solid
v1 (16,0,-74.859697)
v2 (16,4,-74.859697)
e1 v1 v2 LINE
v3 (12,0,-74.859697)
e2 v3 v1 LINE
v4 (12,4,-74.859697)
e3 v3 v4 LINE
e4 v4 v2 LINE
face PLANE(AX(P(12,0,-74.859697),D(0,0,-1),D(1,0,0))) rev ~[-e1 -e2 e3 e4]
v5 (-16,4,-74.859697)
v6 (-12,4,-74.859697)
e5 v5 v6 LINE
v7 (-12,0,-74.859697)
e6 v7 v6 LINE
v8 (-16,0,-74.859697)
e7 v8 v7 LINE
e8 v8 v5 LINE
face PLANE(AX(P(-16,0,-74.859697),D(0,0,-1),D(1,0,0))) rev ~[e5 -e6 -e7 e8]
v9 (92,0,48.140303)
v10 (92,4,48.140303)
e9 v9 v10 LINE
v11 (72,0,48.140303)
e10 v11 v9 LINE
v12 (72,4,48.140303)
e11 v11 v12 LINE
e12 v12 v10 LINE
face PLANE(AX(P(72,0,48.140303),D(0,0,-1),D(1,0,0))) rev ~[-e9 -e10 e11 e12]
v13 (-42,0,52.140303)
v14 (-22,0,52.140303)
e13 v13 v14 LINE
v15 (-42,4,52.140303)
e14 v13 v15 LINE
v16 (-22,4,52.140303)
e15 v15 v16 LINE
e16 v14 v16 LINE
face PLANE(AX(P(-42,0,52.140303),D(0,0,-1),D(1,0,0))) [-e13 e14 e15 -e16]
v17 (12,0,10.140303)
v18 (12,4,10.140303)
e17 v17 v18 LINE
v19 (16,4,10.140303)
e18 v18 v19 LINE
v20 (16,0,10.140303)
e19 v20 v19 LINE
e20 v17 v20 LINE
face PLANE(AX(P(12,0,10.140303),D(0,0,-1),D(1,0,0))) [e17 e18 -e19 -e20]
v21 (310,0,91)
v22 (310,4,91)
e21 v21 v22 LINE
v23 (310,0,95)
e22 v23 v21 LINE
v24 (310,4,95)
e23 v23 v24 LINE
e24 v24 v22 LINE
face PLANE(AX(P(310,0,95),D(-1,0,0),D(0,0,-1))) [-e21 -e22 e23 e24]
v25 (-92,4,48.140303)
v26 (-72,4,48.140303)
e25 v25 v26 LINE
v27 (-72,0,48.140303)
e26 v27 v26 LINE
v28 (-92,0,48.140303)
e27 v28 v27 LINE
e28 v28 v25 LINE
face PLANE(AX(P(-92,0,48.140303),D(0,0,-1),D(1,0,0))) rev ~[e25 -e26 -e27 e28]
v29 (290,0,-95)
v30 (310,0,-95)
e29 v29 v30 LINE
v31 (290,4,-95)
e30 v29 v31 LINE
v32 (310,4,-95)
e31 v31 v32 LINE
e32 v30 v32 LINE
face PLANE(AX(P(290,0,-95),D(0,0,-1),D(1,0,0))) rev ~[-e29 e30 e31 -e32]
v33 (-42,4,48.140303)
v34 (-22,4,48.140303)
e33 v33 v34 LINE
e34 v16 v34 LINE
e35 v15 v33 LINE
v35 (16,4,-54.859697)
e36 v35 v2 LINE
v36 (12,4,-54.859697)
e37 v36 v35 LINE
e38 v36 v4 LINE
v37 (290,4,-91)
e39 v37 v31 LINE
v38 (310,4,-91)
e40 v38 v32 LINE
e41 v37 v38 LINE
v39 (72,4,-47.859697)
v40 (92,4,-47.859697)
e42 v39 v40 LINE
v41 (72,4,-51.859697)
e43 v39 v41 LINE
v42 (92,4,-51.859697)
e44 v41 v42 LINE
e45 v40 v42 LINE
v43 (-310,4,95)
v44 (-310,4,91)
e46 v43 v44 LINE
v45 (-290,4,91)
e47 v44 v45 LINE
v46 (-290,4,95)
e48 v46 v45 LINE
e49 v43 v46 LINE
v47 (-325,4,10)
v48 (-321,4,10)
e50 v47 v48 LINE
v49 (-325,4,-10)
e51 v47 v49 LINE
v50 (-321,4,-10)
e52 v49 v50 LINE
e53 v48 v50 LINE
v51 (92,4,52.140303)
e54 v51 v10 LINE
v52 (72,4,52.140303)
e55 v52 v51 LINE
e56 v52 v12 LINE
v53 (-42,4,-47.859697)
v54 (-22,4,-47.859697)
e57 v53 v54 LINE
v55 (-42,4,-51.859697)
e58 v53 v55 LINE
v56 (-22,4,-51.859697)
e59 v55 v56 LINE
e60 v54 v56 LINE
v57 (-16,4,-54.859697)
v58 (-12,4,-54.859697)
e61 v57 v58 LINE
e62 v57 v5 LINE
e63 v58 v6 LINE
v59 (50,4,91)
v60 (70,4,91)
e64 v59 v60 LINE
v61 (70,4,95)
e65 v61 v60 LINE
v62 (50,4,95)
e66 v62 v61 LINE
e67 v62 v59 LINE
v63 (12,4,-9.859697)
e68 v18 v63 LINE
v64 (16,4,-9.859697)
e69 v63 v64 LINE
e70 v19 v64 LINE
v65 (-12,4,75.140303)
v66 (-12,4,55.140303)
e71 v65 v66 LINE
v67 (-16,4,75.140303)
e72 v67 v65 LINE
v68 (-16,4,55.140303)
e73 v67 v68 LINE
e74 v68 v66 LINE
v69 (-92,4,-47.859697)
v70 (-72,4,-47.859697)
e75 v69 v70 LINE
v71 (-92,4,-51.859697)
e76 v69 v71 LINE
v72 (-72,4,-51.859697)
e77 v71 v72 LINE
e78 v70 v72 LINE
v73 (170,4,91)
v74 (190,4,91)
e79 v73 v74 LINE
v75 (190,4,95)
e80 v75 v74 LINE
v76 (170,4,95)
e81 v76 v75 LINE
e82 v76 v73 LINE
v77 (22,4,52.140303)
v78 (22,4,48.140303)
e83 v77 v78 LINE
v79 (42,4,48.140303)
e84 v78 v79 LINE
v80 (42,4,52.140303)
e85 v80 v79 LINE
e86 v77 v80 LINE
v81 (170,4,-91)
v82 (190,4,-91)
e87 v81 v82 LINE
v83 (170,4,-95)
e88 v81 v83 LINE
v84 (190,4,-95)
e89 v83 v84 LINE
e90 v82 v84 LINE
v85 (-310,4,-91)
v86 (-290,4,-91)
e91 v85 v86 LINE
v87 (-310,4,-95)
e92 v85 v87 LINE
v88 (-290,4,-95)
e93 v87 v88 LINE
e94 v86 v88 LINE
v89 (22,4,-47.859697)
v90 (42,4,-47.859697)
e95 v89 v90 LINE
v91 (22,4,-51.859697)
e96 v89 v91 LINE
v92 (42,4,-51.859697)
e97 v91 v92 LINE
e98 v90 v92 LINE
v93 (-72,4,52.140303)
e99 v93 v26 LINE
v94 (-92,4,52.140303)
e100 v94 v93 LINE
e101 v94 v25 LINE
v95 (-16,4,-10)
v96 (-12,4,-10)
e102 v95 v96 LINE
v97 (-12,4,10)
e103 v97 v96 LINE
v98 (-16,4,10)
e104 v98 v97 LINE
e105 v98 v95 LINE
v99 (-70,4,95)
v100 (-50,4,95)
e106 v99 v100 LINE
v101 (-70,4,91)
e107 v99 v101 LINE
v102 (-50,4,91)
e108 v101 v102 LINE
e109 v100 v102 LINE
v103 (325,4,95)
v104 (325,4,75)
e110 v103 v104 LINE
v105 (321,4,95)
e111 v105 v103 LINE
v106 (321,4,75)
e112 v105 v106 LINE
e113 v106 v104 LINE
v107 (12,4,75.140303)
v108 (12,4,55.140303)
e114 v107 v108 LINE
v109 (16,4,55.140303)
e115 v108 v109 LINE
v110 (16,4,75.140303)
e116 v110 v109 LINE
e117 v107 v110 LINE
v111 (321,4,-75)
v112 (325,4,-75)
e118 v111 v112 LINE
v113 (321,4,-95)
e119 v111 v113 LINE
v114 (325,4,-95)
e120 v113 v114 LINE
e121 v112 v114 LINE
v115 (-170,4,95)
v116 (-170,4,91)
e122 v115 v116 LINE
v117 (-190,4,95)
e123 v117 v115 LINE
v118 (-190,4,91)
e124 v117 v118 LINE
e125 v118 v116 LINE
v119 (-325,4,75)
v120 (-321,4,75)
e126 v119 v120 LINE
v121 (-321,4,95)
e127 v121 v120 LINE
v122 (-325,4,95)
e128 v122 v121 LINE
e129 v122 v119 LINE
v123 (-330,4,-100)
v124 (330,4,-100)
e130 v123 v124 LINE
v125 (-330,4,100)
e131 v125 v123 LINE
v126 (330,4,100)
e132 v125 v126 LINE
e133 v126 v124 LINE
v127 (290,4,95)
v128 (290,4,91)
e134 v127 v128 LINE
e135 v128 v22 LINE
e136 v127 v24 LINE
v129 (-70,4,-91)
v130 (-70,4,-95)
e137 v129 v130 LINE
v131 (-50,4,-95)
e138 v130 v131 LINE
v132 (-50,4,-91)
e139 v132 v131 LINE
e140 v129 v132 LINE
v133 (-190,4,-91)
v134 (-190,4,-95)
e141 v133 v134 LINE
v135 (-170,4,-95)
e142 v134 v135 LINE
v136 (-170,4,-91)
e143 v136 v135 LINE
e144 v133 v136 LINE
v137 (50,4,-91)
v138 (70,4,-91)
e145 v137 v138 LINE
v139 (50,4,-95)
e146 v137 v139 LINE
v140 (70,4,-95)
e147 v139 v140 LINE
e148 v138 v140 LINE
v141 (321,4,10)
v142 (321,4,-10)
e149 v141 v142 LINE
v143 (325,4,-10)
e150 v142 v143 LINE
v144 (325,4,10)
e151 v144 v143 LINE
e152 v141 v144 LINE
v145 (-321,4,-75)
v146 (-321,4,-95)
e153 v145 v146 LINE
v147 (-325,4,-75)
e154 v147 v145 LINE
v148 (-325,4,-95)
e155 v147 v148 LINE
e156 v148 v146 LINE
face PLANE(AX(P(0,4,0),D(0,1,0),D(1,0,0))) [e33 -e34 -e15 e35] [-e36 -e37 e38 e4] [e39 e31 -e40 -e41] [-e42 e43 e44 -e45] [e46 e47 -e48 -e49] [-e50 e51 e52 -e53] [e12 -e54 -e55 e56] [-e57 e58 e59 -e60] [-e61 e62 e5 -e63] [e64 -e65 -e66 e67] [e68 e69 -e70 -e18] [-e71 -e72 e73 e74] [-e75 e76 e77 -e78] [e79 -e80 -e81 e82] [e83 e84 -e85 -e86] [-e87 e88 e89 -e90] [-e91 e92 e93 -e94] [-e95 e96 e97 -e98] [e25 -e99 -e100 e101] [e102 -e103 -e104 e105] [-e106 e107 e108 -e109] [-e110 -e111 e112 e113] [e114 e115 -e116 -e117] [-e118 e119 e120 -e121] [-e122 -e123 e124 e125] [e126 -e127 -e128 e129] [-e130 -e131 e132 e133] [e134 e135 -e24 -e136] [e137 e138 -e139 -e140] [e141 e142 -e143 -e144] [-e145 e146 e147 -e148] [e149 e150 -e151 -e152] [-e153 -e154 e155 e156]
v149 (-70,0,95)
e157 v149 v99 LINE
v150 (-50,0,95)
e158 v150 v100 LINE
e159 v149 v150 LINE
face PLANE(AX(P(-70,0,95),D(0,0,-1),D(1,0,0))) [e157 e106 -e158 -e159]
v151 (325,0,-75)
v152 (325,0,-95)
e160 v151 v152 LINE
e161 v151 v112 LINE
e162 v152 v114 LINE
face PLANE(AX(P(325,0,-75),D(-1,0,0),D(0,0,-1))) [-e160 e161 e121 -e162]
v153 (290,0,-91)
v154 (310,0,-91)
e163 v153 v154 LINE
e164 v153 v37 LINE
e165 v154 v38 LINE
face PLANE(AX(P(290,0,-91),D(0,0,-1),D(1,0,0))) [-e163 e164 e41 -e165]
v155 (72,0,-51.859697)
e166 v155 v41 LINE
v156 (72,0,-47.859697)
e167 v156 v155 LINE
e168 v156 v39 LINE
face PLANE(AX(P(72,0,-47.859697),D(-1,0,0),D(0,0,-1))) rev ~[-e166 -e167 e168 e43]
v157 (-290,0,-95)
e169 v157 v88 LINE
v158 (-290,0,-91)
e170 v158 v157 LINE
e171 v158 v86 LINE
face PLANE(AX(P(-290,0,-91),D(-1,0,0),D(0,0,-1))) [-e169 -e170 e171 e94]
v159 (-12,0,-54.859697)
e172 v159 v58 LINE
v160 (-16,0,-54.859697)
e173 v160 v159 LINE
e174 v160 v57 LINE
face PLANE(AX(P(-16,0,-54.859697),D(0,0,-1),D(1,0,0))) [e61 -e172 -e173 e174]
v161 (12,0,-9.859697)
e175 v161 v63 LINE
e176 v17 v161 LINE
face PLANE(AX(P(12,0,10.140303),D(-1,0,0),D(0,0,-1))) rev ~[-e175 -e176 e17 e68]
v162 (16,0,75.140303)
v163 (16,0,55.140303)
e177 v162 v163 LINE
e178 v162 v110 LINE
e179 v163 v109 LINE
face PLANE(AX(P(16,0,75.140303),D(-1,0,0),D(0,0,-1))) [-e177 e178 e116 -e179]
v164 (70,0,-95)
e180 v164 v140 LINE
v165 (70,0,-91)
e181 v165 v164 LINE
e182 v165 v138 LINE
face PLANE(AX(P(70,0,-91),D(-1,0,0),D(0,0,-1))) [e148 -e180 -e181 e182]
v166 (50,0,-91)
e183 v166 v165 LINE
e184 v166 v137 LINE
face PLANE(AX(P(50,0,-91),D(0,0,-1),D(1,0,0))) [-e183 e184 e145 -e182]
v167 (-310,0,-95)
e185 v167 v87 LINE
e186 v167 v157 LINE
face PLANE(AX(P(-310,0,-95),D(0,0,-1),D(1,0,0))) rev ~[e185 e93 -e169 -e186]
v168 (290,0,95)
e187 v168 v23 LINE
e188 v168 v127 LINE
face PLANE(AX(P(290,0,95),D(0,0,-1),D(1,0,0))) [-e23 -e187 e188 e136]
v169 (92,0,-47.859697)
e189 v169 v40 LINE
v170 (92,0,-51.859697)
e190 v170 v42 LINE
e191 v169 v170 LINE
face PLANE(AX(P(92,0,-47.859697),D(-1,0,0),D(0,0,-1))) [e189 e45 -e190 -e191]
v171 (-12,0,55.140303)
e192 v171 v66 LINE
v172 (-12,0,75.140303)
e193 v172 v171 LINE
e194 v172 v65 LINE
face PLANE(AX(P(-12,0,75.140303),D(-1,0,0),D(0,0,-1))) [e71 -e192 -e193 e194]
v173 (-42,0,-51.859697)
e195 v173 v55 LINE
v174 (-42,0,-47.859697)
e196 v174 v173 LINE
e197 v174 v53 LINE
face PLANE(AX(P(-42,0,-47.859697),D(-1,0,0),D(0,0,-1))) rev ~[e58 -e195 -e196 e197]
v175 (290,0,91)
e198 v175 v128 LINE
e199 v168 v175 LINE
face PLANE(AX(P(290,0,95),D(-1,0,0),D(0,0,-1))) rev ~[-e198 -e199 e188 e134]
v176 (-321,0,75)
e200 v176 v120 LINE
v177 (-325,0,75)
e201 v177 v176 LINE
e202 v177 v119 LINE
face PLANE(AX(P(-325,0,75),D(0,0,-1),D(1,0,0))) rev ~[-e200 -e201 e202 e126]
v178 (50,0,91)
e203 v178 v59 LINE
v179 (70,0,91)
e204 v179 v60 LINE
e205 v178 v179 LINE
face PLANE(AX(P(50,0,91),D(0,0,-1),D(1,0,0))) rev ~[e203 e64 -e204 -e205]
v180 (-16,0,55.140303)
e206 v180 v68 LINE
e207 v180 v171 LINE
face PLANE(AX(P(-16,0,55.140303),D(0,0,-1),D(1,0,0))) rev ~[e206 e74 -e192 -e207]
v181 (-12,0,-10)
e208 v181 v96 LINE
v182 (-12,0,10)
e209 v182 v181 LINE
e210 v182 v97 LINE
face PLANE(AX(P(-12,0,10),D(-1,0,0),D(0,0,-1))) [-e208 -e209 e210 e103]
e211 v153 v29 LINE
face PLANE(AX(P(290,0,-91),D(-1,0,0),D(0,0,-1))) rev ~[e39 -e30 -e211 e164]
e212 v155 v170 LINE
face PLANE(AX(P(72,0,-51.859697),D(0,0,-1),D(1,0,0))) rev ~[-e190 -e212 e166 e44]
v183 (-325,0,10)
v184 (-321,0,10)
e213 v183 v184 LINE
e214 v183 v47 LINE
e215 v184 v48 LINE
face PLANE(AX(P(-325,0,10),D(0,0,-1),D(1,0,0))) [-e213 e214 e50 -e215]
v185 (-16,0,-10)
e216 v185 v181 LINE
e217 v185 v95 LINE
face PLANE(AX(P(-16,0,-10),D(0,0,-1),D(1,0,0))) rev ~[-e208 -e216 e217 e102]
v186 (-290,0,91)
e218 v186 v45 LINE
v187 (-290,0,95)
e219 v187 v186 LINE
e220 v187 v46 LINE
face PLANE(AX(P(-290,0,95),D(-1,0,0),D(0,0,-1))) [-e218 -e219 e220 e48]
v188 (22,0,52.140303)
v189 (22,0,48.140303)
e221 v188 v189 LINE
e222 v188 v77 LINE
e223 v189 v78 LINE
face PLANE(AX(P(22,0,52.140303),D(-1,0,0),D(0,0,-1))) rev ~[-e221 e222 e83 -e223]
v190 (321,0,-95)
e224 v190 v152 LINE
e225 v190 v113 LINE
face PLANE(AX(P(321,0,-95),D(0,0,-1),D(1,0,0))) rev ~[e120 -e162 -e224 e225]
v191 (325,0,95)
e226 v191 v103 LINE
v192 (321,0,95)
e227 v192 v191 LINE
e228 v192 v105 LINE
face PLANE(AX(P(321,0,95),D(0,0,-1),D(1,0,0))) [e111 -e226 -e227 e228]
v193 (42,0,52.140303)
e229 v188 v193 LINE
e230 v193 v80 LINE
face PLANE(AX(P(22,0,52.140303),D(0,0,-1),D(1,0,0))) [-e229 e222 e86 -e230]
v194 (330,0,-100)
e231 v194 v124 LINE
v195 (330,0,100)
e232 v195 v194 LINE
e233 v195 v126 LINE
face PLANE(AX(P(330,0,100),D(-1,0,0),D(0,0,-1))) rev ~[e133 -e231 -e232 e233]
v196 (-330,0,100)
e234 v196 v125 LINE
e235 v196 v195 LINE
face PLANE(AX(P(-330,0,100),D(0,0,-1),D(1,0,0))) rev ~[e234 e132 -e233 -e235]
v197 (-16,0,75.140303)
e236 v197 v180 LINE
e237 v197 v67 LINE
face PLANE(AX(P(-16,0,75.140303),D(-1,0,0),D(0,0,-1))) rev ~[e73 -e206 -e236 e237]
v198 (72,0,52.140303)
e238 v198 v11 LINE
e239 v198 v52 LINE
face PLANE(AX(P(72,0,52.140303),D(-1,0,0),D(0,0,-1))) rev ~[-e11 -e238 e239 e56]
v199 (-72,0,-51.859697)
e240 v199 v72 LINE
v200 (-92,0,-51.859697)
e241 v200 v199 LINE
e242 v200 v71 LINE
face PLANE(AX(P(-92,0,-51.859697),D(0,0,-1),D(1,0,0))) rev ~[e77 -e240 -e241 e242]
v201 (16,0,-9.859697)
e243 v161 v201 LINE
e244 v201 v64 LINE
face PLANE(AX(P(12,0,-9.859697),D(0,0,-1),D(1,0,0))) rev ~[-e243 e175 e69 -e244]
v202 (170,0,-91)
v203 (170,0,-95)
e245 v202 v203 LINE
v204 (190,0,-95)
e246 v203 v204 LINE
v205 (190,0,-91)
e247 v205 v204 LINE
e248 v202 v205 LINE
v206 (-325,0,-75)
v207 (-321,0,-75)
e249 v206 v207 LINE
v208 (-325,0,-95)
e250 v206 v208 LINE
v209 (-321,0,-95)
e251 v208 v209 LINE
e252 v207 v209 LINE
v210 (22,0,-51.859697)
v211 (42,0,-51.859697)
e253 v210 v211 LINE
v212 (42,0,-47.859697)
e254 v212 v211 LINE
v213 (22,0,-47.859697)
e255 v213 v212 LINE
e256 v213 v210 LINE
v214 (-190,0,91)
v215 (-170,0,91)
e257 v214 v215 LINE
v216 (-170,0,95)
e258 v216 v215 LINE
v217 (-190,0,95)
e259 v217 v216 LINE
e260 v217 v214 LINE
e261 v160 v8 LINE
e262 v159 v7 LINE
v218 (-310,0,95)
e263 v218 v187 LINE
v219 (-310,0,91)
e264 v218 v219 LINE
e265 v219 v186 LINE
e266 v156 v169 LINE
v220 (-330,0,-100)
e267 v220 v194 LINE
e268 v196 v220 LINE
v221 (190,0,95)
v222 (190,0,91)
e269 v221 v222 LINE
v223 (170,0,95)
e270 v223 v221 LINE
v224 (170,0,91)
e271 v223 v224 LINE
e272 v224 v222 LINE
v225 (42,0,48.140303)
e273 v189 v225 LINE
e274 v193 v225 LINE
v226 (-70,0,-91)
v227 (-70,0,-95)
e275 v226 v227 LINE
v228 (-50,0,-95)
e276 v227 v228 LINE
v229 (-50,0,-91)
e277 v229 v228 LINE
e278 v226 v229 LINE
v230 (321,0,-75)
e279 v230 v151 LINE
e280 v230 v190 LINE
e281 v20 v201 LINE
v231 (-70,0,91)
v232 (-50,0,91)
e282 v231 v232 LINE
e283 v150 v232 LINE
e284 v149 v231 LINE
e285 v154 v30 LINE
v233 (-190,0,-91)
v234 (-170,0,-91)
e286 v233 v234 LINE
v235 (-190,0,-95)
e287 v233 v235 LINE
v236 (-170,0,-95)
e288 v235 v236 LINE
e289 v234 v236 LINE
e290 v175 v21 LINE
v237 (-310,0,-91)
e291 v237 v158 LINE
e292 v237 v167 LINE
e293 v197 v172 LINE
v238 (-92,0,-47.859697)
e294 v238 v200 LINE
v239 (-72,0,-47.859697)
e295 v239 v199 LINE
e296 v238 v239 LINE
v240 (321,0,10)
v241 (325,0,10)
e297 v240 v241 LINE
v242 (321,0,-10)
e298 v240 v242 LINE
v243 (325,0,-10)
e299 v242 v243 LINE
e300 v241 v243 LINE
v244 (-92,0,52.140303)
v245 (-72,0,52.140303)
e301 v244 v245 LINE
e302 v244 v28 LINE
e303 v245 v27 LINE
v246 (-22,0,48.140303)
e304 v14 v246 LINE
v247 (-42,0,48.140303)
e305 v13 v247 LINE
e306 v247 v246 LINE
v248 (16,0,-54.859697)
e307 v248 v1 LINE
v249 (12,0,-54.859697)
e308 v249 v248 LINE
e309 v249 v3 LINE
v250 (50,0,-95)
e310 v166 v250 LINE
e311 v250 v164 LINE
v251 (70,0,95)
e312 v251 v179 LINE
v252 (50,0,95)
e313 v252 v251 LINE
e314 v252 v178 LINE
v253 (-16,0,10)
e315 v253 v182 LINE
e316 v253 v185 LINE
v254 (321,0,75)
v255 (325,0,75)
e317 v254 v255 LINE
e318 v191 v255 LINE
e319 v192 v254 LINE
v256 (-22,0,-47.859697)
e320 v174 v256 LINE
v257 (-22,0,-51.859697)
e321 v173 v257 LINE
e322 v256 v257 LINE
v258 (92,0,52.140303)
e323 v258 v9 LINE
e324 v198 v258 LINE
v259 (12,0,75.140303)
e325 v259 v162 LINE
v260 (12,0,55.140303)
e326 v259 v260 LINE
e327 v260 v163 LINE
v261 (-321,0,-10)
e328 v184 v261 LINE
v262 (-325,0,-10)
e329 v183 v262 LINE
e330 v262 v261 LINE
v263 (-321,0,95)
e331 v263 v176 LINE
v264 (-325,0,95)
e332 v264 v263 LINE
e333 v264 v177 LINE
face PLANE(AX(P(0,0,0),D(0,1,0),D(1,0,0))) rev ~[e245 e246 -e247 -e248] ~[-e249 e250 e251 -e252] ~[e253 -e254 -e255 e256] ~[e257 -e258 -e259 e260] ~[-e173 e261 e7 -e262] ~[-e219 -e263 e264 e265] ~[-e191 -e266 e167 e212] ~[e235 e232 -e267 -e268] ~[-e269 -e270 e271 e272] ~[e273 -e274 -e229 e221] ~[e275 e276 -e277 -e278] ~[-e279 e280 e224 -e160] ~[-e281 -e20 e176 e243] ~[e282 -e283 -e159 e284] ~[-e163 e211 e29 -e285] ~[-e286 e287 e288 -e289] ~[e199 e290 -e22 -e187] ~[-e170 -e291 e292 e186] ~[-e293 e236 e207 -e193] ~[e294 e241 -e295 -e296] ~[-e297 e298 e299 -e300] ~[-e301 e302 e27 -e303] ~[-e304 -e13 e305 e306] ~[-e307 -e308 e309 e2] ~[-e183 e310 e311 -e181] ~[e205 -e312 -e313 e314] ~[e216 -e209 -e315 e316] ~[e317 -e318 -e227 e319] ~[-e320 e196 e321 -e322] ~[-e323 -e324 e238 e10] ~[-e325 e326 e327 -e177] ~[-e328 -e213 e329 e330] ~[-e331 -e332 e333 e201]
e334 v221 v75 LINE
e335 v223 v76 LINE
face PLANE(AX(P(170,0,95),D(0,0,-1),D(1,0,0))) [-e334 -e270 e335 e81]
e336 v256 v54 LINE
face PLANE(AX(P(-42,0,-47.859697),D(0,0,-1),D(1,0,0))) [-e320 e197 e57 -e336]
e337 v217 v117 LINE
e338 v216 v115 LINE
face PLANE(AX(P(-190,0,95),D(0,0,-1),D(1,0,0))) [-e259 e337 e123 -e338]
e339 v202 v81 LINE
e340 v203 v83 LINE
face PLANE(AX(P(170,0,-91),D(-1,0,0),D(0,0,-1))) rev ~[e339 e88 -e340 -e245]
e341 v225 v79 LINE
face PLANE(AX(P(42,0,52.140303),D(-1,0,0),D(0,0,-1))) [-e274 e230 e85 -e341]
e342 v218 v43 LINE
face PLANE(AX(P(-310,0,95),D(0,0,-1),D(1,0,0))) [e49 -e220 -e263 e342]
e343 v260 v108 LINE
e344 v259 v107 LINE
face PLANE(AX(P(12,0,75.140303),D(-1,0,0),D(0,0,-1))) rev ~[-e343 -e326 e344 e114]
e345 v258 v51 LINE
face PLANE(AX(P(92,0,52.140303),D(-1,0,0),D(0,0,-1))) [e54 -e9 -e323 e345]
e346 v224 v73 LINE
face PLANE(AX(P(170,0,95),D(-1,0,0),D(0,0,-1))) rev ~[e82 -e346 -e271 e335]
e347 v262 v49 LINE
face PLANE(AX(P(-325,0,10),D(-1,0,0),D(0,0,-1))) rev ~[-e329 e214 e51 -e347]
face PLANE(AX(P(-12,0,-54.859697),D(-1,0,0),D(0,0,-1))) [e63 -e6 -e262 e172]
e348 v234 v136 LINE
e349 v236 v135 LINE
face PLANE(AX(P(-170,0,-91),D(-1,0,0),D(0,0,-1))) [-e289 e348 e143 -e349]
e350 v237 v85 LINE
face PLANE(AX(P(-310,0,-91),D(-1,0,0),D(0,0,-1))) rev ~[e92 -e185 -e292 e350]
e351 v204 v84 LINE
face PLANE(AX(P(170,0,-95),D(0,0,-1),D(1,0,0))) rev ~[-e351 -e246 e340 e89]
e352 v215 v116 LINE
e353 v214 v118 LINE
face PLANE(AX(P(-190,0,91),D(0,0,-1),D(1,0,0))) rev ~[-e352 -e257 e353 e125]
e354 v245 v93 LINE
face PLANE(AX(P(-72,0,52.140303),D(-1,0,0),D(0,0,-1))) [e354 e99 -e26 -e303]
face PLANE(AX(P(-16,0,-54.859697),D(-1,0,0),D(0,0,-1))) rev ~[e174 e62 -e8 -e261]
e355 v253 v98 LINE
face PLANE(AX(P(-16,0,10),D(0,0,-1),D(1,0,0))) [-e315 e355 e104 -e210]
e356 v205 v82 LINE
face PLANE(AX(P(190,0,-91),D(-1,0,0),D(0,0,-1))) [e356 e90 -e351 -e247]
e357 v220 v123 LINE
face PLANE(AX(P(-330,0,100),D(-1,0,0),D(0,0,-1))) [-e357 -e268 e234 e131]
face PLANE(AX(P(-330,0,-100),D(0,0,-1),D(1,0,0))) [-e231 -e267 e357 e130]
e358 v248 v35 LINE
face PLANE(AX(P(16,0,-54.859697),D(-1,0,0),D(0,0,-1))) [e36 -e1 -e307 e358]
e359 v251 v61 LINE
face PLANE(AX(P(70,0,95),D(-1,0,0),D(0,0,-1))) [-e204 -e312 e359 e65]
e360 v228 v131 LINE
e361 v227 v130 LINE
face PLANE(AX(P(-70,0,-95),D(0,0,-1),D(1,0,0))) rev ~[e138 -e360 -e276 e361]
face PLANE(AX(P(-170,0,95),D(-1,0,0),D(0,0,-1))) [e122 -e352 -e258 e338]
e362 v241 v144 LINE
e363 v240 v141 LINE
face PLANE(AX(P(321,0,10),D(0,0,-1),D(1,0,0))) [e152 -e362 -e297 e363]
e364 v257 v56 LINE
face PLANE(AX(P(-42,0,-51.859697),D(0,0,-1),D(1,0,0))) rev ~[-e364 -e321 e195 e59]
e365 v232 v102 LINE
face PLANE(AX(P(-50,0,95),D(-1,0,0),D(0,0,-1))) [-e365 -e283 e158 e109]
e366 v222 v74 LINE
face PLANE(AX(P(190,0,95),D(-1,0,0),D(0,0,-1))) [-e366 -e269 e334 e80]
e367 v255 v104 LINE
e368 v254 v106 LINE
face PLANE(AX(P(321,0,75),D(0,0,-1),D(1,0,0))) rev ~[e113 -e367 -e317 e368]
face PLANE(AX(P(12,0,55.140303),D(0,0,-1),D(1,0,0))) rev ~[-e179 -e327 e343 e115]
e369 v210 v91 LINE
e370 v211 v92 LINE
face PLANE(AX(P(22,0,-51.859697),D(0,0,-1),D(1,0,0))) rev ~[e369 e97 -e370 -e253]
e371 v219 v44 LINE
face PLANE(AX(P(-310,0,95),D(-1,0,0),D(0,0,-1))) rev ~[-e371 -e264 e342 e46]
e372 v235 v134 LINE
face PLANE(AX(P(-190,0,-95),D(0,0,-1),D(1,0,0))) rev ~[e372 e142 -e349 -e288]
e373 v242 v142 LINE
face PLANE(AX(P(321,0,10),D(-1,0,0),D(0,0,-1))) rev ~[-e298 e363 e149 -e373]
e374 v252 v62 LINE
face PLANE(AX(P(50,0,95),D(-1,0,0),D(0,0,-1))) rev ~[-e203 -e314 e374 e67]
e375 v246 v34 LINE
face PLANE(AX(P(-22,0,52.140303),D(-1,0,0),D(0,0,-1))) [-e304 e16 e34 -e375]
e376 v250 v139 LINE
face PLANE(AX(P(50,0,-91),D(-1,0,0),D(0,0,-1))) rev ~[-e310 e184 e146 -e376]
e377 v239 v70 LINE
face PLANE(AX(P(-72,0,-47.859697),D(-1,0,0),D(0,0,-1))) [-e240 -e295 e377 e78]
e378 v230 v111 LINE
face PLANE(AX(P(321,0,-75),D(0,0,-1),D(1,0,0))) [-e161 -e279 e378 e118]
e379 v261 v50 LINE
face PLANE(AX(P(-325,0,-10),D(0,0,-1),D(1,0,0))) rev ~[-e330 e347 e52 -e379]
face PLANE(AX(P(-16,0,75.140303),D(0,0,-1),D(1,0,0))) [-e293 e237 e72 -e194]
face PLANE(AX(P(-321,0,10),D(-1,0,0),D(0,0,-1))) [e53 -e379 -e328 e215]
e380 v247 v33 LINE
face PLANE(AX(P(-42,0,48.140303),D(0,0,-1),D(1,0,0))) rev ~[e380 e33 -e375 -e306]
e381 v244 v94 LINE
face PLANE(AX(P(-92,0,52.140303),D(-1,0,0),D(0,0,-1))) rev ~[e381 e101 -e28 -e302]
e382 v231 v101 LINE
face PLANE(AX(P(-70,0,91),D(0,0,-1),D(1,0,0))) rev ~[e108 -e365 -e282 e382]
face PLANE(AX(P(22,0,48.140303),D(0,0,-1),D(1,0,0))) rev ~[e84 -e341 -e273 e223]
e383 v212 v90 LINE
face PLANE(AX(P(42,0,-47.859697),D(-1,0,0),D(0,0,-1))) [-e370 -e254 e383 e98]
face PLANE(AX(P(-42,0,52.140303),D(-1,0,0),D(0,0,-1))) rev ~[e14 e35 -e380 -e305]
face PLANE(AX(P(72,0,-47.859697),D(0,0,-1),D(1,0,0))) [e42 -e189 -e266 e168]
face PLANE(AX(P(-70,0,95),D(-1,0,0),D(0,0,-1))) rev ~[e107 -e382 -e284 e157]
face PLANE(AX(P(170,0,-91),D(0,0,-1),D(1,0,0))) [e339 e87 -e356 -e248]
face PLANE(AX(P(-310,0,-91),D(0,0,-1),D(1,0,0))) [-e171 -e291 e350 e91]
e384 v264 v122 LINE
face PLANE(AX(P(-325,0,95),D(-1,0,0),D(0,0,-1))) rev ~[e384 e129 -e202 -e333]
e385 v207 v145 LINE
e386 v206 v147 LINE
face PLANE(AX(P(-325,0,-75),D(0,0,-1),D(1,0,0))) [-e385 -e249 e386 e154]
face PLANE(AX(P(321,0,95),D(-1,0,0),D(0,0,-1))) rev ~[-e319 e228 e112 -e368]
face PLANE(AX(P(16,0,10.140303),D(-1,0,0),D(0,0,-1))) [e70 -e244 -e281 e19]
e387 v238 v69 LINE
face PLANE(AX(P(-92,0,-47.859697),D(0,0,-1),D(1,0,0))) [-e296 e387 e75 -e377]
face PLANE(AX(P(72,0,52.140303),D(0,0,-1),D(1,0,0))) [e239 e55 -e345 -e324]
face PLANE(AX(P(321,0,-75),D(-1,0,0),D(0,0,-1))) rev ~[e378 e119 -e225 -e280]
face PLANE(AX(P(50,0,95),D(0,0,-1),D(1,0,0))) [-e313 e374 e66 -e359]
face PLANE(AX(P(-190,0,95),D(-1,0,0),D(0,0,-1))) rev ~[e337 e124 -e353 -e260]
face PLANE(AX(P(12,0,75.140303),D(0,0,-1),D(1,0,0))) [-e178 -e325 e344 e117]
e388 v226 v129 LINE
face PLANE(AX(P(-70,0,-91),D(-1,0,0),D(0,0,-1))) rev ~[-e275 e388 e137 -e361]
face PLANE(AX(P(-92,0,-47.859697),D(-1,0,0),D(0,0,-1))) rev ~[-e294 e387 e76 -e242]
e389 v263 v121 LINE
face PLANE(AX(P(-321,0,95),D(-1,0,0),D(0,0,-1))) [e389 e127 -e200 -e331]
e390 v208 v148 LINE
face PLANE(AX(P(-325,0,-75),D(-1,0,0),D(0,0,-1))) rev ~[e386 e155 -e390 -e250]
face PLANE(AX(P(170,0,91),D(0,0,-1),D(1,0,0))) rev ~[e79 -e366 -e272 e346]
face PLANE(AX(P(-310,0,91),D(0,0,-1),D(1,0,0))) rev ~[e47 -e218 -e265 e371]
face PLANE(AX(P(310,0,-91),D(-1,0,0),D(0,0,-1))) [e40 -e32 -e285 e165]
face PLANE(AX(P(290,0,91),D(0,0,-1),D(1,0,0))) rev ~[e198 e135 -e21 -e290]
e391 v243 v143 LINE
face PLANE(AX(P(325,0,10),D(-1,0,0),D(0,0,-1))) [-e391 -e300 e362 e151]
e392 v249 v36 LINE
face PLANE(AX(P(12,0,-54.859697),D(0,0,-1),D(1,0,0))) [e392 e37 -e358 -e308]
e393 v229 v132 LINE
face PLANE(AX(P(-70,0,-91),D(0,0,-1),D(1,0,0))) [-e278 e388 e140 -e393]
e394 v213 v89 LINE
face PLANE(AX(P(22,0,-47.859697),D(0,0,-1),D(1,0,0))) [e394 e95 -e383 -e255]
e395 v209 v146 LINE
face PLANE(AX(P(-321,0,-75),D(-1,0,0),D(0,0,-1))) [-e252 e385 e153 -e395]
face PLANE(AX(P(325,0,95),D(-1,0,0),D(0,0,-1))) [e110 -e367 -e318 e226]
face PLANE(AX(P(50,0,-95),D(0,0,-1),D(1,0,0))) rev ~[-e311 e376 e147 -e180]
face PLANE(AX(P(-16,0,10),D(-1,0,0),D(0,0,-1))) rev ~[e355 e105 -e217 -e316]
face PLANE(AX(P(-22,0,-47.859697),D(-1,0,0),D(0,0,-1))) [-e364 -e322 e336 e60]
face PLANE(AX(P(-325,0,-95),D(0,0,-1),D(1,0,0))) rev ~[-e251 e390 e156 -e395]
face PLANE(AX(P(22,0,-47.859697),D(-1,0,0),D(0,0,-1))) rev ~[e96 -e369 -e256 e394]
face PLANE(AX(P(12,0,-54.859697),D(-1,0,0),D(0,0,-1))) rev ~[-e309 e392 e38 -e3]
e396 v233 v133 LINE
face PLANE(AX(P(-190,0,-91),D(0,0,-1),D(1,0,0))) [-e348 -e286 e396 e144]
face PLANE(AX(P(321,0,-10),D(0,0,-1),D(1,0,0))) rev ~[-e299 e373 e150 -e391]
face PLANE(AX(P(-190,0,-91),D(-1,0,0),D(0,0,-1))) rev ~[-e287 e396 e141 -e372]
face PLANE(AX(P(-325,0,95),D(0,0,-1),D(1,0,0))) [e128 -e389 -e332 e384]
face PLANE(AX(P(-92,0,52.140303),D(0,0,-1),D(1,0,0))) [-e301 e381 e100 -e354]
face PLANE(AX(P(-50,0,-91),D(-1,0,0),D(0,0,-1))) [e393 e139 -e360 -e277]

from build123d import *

# Parameters (mm, degrees)
SKETCH1_W           = 660
SKETCH1_H           = 200
SKETCH1_W_2         = 20
SKETCH1_H_2         = 4
SKETCH1_W_3         = 4
SKETCH1_H_3         = 20
BOSS_EXTRUDE1_DEPTH = 4


with BuildPart() as part:
    # Sketch1 → Boss-Extrude1 (new body)
    with BuildSketch(Plane(origin=(0, 0, 0), x_dir=(1, 0, 0), z_dir=(0, 1, 0))):
        Rectangle(SKETCH1_W, SKETCH1_H)
        with Locations((-82, 49.859697176)):
            Rectangle(SKETCH1_W_2, SKETCH1_H_2, mode=Mode.SUBTRACT)
        with Locations((-32, 49.859697176)):
            Rectangle(SKETCH1_W_2, SKETCH1_H_2, mode=Mode.SUBTRACT)
        with Locations((-82, -50.140302824)):
            Rectangle(SKETCH1_W_2, SKETCH1_H_2, mode=Mode.SUBTRACT)
        with Locations((-32, -50.140302824)):
            Rectangle(SKETCH1_W_2, SKETCH1_H_2, mode=Mode.SUBTRACT)
        with Locations((-14, 64.859697176)):
            Rectangle(SKETCH1_W_3, SKETCH1_H_3, mode=Mode.SUBTRACT)
        with Locations((14, 64.859697176)):
            Rectangle(SKETCH1_W_3, SKETCH1_H_3, mode=Mode.SUBTRACT)
        with Locations((32, 49.859697176)):
            Rectangle(SKETCH1_W_2, SKETCH1_H_2, mode=Mode.SUBTRACT)
        with Locations((82, 49.859697176)):
            Rectangle(SKETCH1_W_2, SKETCH1_H_2, mode=Mode.SUBTRACT)
        with Locations((-14, 0)):
            Rectangle(SKETCH1_W_3, SKETCH1_H_3, mode=Mode.SUBTRACT)
        with Locations((14, -0.140302824)):
            Rectangle(SKETCH1_W_3, SKETCH1_H_3, mode=Mode.SUBTRACT)
        with Locations((32, -50.140302824)):
            Rectangle(SKETCH1_W_2, SKETCH1_H_2, mode=Mode.SUBTRACT)
        with Locations((14, -65.140302824)):
            Rectangle(SKETCH1_W_3, SKETCH1_H_3, mode=Mode.SUBTRACT)
        with Locations((82, -50.140302824)):
            Rectangle(SKETCH1_W_2, SKETCH1_H_2, mode=Mode.SUBTRACT)
        with Locations((-323, -85)):
            Rectangle(SKETCH1_W_3, SKETCH1_H_3, mode=Mode.SUBTRACT)
        with Locations((-323, 85)):
            Rectangle(SKETCH1_W_3, SKETCH1_H_3, mode=Mode.SUBTRACT)
        with Locations((323, -85)):
            Rectangle(SKETCH1_W_3, SKETCH1_H_3, mode=Mode.SUBTRACT)
        with Locations((-323, 0)):
            Rectangle(SKETCH1_W_3, SKETCH1_H_3, mode=Mode.SUBTRACT)
        with Locations((323, 0)):
            Rectangle(SKETCH1_W_3, SKETCH1_H_3, mode=Mode.SUBTRACT)
        with Locations((323, 85)):
            Rectangle(SKETCH1_W_3, SKETCH1_H_3, mode=Mode.SUBTRACT)
        with Locations((-300, 93)):
            Rectangle(SKETCH1_W_2, SKETCH1_H_2, mode=Mode.SUBTRACT)
        with Locations((-180, 93)):
            Rectangle(SKETCH1_W_2, SKETCH1_H_2, mode=Mode.SUBTRACT)
        with Locations((-60, 93)):
            Rectangle(SKETCH1_W_2, SKETCH1_H_2, mode=Mode.SUBTRACT)
        with Locations((300, 93)):
            Rectangle(SKETCH1_W_2, SKETCH1_H_2, mode=Mode.SUBTRACT)
        with Locations((-14, -65.140302824)):
            Rectangle(SKETCH1_W_3, SKETCH1_H_3, mode=Mode.SUBTRACT)
        with Locations((180, 93)):
            Rectangle(SKETCH1_W_2, SKETCH1_H_2, mode=Mode.SUBTRACT)
        with Locations((60, 93)):
            Rectangle(SKETCH1_W_2, SKETCH1_H_2, mode=Mode.SUBTRACT)
        with Locations((300, -93)):
            Rectangle(SKETCH1_W_2, SKETCH1_H_2, mode=Mode.SUBTRACT)
        with Locations((180, -93)):
            Rectangle(SKETCH1_W_2, SKETCH1_H_2, mode=Mode.SUBTRACT)
        with Locations((60, -93)):
            Rectangle(SKETCH1_W_2, SKETCH1_H_2, mode=Mode.SUBTRACT)
        with Locations((-60, -93)):
            Rectangle(SKETCH1_W_2, SKETCH1_H_2, mode=Mode.SUBTRACT)
        with Locations((-180, -93)):
            Rectangle(SKETCH1_W_2, SKETCH1_H_2, mode=Mode.SUBTRACT)
        with Locations((-300, -93)):
            Rectangle(SKETCH1_W_2, SKETCH1_H_2, mode=Mode.SUBTRACT)
    extrude(amount=BOSS_EXTRUDE1_DEPTH)


solid = part.part
